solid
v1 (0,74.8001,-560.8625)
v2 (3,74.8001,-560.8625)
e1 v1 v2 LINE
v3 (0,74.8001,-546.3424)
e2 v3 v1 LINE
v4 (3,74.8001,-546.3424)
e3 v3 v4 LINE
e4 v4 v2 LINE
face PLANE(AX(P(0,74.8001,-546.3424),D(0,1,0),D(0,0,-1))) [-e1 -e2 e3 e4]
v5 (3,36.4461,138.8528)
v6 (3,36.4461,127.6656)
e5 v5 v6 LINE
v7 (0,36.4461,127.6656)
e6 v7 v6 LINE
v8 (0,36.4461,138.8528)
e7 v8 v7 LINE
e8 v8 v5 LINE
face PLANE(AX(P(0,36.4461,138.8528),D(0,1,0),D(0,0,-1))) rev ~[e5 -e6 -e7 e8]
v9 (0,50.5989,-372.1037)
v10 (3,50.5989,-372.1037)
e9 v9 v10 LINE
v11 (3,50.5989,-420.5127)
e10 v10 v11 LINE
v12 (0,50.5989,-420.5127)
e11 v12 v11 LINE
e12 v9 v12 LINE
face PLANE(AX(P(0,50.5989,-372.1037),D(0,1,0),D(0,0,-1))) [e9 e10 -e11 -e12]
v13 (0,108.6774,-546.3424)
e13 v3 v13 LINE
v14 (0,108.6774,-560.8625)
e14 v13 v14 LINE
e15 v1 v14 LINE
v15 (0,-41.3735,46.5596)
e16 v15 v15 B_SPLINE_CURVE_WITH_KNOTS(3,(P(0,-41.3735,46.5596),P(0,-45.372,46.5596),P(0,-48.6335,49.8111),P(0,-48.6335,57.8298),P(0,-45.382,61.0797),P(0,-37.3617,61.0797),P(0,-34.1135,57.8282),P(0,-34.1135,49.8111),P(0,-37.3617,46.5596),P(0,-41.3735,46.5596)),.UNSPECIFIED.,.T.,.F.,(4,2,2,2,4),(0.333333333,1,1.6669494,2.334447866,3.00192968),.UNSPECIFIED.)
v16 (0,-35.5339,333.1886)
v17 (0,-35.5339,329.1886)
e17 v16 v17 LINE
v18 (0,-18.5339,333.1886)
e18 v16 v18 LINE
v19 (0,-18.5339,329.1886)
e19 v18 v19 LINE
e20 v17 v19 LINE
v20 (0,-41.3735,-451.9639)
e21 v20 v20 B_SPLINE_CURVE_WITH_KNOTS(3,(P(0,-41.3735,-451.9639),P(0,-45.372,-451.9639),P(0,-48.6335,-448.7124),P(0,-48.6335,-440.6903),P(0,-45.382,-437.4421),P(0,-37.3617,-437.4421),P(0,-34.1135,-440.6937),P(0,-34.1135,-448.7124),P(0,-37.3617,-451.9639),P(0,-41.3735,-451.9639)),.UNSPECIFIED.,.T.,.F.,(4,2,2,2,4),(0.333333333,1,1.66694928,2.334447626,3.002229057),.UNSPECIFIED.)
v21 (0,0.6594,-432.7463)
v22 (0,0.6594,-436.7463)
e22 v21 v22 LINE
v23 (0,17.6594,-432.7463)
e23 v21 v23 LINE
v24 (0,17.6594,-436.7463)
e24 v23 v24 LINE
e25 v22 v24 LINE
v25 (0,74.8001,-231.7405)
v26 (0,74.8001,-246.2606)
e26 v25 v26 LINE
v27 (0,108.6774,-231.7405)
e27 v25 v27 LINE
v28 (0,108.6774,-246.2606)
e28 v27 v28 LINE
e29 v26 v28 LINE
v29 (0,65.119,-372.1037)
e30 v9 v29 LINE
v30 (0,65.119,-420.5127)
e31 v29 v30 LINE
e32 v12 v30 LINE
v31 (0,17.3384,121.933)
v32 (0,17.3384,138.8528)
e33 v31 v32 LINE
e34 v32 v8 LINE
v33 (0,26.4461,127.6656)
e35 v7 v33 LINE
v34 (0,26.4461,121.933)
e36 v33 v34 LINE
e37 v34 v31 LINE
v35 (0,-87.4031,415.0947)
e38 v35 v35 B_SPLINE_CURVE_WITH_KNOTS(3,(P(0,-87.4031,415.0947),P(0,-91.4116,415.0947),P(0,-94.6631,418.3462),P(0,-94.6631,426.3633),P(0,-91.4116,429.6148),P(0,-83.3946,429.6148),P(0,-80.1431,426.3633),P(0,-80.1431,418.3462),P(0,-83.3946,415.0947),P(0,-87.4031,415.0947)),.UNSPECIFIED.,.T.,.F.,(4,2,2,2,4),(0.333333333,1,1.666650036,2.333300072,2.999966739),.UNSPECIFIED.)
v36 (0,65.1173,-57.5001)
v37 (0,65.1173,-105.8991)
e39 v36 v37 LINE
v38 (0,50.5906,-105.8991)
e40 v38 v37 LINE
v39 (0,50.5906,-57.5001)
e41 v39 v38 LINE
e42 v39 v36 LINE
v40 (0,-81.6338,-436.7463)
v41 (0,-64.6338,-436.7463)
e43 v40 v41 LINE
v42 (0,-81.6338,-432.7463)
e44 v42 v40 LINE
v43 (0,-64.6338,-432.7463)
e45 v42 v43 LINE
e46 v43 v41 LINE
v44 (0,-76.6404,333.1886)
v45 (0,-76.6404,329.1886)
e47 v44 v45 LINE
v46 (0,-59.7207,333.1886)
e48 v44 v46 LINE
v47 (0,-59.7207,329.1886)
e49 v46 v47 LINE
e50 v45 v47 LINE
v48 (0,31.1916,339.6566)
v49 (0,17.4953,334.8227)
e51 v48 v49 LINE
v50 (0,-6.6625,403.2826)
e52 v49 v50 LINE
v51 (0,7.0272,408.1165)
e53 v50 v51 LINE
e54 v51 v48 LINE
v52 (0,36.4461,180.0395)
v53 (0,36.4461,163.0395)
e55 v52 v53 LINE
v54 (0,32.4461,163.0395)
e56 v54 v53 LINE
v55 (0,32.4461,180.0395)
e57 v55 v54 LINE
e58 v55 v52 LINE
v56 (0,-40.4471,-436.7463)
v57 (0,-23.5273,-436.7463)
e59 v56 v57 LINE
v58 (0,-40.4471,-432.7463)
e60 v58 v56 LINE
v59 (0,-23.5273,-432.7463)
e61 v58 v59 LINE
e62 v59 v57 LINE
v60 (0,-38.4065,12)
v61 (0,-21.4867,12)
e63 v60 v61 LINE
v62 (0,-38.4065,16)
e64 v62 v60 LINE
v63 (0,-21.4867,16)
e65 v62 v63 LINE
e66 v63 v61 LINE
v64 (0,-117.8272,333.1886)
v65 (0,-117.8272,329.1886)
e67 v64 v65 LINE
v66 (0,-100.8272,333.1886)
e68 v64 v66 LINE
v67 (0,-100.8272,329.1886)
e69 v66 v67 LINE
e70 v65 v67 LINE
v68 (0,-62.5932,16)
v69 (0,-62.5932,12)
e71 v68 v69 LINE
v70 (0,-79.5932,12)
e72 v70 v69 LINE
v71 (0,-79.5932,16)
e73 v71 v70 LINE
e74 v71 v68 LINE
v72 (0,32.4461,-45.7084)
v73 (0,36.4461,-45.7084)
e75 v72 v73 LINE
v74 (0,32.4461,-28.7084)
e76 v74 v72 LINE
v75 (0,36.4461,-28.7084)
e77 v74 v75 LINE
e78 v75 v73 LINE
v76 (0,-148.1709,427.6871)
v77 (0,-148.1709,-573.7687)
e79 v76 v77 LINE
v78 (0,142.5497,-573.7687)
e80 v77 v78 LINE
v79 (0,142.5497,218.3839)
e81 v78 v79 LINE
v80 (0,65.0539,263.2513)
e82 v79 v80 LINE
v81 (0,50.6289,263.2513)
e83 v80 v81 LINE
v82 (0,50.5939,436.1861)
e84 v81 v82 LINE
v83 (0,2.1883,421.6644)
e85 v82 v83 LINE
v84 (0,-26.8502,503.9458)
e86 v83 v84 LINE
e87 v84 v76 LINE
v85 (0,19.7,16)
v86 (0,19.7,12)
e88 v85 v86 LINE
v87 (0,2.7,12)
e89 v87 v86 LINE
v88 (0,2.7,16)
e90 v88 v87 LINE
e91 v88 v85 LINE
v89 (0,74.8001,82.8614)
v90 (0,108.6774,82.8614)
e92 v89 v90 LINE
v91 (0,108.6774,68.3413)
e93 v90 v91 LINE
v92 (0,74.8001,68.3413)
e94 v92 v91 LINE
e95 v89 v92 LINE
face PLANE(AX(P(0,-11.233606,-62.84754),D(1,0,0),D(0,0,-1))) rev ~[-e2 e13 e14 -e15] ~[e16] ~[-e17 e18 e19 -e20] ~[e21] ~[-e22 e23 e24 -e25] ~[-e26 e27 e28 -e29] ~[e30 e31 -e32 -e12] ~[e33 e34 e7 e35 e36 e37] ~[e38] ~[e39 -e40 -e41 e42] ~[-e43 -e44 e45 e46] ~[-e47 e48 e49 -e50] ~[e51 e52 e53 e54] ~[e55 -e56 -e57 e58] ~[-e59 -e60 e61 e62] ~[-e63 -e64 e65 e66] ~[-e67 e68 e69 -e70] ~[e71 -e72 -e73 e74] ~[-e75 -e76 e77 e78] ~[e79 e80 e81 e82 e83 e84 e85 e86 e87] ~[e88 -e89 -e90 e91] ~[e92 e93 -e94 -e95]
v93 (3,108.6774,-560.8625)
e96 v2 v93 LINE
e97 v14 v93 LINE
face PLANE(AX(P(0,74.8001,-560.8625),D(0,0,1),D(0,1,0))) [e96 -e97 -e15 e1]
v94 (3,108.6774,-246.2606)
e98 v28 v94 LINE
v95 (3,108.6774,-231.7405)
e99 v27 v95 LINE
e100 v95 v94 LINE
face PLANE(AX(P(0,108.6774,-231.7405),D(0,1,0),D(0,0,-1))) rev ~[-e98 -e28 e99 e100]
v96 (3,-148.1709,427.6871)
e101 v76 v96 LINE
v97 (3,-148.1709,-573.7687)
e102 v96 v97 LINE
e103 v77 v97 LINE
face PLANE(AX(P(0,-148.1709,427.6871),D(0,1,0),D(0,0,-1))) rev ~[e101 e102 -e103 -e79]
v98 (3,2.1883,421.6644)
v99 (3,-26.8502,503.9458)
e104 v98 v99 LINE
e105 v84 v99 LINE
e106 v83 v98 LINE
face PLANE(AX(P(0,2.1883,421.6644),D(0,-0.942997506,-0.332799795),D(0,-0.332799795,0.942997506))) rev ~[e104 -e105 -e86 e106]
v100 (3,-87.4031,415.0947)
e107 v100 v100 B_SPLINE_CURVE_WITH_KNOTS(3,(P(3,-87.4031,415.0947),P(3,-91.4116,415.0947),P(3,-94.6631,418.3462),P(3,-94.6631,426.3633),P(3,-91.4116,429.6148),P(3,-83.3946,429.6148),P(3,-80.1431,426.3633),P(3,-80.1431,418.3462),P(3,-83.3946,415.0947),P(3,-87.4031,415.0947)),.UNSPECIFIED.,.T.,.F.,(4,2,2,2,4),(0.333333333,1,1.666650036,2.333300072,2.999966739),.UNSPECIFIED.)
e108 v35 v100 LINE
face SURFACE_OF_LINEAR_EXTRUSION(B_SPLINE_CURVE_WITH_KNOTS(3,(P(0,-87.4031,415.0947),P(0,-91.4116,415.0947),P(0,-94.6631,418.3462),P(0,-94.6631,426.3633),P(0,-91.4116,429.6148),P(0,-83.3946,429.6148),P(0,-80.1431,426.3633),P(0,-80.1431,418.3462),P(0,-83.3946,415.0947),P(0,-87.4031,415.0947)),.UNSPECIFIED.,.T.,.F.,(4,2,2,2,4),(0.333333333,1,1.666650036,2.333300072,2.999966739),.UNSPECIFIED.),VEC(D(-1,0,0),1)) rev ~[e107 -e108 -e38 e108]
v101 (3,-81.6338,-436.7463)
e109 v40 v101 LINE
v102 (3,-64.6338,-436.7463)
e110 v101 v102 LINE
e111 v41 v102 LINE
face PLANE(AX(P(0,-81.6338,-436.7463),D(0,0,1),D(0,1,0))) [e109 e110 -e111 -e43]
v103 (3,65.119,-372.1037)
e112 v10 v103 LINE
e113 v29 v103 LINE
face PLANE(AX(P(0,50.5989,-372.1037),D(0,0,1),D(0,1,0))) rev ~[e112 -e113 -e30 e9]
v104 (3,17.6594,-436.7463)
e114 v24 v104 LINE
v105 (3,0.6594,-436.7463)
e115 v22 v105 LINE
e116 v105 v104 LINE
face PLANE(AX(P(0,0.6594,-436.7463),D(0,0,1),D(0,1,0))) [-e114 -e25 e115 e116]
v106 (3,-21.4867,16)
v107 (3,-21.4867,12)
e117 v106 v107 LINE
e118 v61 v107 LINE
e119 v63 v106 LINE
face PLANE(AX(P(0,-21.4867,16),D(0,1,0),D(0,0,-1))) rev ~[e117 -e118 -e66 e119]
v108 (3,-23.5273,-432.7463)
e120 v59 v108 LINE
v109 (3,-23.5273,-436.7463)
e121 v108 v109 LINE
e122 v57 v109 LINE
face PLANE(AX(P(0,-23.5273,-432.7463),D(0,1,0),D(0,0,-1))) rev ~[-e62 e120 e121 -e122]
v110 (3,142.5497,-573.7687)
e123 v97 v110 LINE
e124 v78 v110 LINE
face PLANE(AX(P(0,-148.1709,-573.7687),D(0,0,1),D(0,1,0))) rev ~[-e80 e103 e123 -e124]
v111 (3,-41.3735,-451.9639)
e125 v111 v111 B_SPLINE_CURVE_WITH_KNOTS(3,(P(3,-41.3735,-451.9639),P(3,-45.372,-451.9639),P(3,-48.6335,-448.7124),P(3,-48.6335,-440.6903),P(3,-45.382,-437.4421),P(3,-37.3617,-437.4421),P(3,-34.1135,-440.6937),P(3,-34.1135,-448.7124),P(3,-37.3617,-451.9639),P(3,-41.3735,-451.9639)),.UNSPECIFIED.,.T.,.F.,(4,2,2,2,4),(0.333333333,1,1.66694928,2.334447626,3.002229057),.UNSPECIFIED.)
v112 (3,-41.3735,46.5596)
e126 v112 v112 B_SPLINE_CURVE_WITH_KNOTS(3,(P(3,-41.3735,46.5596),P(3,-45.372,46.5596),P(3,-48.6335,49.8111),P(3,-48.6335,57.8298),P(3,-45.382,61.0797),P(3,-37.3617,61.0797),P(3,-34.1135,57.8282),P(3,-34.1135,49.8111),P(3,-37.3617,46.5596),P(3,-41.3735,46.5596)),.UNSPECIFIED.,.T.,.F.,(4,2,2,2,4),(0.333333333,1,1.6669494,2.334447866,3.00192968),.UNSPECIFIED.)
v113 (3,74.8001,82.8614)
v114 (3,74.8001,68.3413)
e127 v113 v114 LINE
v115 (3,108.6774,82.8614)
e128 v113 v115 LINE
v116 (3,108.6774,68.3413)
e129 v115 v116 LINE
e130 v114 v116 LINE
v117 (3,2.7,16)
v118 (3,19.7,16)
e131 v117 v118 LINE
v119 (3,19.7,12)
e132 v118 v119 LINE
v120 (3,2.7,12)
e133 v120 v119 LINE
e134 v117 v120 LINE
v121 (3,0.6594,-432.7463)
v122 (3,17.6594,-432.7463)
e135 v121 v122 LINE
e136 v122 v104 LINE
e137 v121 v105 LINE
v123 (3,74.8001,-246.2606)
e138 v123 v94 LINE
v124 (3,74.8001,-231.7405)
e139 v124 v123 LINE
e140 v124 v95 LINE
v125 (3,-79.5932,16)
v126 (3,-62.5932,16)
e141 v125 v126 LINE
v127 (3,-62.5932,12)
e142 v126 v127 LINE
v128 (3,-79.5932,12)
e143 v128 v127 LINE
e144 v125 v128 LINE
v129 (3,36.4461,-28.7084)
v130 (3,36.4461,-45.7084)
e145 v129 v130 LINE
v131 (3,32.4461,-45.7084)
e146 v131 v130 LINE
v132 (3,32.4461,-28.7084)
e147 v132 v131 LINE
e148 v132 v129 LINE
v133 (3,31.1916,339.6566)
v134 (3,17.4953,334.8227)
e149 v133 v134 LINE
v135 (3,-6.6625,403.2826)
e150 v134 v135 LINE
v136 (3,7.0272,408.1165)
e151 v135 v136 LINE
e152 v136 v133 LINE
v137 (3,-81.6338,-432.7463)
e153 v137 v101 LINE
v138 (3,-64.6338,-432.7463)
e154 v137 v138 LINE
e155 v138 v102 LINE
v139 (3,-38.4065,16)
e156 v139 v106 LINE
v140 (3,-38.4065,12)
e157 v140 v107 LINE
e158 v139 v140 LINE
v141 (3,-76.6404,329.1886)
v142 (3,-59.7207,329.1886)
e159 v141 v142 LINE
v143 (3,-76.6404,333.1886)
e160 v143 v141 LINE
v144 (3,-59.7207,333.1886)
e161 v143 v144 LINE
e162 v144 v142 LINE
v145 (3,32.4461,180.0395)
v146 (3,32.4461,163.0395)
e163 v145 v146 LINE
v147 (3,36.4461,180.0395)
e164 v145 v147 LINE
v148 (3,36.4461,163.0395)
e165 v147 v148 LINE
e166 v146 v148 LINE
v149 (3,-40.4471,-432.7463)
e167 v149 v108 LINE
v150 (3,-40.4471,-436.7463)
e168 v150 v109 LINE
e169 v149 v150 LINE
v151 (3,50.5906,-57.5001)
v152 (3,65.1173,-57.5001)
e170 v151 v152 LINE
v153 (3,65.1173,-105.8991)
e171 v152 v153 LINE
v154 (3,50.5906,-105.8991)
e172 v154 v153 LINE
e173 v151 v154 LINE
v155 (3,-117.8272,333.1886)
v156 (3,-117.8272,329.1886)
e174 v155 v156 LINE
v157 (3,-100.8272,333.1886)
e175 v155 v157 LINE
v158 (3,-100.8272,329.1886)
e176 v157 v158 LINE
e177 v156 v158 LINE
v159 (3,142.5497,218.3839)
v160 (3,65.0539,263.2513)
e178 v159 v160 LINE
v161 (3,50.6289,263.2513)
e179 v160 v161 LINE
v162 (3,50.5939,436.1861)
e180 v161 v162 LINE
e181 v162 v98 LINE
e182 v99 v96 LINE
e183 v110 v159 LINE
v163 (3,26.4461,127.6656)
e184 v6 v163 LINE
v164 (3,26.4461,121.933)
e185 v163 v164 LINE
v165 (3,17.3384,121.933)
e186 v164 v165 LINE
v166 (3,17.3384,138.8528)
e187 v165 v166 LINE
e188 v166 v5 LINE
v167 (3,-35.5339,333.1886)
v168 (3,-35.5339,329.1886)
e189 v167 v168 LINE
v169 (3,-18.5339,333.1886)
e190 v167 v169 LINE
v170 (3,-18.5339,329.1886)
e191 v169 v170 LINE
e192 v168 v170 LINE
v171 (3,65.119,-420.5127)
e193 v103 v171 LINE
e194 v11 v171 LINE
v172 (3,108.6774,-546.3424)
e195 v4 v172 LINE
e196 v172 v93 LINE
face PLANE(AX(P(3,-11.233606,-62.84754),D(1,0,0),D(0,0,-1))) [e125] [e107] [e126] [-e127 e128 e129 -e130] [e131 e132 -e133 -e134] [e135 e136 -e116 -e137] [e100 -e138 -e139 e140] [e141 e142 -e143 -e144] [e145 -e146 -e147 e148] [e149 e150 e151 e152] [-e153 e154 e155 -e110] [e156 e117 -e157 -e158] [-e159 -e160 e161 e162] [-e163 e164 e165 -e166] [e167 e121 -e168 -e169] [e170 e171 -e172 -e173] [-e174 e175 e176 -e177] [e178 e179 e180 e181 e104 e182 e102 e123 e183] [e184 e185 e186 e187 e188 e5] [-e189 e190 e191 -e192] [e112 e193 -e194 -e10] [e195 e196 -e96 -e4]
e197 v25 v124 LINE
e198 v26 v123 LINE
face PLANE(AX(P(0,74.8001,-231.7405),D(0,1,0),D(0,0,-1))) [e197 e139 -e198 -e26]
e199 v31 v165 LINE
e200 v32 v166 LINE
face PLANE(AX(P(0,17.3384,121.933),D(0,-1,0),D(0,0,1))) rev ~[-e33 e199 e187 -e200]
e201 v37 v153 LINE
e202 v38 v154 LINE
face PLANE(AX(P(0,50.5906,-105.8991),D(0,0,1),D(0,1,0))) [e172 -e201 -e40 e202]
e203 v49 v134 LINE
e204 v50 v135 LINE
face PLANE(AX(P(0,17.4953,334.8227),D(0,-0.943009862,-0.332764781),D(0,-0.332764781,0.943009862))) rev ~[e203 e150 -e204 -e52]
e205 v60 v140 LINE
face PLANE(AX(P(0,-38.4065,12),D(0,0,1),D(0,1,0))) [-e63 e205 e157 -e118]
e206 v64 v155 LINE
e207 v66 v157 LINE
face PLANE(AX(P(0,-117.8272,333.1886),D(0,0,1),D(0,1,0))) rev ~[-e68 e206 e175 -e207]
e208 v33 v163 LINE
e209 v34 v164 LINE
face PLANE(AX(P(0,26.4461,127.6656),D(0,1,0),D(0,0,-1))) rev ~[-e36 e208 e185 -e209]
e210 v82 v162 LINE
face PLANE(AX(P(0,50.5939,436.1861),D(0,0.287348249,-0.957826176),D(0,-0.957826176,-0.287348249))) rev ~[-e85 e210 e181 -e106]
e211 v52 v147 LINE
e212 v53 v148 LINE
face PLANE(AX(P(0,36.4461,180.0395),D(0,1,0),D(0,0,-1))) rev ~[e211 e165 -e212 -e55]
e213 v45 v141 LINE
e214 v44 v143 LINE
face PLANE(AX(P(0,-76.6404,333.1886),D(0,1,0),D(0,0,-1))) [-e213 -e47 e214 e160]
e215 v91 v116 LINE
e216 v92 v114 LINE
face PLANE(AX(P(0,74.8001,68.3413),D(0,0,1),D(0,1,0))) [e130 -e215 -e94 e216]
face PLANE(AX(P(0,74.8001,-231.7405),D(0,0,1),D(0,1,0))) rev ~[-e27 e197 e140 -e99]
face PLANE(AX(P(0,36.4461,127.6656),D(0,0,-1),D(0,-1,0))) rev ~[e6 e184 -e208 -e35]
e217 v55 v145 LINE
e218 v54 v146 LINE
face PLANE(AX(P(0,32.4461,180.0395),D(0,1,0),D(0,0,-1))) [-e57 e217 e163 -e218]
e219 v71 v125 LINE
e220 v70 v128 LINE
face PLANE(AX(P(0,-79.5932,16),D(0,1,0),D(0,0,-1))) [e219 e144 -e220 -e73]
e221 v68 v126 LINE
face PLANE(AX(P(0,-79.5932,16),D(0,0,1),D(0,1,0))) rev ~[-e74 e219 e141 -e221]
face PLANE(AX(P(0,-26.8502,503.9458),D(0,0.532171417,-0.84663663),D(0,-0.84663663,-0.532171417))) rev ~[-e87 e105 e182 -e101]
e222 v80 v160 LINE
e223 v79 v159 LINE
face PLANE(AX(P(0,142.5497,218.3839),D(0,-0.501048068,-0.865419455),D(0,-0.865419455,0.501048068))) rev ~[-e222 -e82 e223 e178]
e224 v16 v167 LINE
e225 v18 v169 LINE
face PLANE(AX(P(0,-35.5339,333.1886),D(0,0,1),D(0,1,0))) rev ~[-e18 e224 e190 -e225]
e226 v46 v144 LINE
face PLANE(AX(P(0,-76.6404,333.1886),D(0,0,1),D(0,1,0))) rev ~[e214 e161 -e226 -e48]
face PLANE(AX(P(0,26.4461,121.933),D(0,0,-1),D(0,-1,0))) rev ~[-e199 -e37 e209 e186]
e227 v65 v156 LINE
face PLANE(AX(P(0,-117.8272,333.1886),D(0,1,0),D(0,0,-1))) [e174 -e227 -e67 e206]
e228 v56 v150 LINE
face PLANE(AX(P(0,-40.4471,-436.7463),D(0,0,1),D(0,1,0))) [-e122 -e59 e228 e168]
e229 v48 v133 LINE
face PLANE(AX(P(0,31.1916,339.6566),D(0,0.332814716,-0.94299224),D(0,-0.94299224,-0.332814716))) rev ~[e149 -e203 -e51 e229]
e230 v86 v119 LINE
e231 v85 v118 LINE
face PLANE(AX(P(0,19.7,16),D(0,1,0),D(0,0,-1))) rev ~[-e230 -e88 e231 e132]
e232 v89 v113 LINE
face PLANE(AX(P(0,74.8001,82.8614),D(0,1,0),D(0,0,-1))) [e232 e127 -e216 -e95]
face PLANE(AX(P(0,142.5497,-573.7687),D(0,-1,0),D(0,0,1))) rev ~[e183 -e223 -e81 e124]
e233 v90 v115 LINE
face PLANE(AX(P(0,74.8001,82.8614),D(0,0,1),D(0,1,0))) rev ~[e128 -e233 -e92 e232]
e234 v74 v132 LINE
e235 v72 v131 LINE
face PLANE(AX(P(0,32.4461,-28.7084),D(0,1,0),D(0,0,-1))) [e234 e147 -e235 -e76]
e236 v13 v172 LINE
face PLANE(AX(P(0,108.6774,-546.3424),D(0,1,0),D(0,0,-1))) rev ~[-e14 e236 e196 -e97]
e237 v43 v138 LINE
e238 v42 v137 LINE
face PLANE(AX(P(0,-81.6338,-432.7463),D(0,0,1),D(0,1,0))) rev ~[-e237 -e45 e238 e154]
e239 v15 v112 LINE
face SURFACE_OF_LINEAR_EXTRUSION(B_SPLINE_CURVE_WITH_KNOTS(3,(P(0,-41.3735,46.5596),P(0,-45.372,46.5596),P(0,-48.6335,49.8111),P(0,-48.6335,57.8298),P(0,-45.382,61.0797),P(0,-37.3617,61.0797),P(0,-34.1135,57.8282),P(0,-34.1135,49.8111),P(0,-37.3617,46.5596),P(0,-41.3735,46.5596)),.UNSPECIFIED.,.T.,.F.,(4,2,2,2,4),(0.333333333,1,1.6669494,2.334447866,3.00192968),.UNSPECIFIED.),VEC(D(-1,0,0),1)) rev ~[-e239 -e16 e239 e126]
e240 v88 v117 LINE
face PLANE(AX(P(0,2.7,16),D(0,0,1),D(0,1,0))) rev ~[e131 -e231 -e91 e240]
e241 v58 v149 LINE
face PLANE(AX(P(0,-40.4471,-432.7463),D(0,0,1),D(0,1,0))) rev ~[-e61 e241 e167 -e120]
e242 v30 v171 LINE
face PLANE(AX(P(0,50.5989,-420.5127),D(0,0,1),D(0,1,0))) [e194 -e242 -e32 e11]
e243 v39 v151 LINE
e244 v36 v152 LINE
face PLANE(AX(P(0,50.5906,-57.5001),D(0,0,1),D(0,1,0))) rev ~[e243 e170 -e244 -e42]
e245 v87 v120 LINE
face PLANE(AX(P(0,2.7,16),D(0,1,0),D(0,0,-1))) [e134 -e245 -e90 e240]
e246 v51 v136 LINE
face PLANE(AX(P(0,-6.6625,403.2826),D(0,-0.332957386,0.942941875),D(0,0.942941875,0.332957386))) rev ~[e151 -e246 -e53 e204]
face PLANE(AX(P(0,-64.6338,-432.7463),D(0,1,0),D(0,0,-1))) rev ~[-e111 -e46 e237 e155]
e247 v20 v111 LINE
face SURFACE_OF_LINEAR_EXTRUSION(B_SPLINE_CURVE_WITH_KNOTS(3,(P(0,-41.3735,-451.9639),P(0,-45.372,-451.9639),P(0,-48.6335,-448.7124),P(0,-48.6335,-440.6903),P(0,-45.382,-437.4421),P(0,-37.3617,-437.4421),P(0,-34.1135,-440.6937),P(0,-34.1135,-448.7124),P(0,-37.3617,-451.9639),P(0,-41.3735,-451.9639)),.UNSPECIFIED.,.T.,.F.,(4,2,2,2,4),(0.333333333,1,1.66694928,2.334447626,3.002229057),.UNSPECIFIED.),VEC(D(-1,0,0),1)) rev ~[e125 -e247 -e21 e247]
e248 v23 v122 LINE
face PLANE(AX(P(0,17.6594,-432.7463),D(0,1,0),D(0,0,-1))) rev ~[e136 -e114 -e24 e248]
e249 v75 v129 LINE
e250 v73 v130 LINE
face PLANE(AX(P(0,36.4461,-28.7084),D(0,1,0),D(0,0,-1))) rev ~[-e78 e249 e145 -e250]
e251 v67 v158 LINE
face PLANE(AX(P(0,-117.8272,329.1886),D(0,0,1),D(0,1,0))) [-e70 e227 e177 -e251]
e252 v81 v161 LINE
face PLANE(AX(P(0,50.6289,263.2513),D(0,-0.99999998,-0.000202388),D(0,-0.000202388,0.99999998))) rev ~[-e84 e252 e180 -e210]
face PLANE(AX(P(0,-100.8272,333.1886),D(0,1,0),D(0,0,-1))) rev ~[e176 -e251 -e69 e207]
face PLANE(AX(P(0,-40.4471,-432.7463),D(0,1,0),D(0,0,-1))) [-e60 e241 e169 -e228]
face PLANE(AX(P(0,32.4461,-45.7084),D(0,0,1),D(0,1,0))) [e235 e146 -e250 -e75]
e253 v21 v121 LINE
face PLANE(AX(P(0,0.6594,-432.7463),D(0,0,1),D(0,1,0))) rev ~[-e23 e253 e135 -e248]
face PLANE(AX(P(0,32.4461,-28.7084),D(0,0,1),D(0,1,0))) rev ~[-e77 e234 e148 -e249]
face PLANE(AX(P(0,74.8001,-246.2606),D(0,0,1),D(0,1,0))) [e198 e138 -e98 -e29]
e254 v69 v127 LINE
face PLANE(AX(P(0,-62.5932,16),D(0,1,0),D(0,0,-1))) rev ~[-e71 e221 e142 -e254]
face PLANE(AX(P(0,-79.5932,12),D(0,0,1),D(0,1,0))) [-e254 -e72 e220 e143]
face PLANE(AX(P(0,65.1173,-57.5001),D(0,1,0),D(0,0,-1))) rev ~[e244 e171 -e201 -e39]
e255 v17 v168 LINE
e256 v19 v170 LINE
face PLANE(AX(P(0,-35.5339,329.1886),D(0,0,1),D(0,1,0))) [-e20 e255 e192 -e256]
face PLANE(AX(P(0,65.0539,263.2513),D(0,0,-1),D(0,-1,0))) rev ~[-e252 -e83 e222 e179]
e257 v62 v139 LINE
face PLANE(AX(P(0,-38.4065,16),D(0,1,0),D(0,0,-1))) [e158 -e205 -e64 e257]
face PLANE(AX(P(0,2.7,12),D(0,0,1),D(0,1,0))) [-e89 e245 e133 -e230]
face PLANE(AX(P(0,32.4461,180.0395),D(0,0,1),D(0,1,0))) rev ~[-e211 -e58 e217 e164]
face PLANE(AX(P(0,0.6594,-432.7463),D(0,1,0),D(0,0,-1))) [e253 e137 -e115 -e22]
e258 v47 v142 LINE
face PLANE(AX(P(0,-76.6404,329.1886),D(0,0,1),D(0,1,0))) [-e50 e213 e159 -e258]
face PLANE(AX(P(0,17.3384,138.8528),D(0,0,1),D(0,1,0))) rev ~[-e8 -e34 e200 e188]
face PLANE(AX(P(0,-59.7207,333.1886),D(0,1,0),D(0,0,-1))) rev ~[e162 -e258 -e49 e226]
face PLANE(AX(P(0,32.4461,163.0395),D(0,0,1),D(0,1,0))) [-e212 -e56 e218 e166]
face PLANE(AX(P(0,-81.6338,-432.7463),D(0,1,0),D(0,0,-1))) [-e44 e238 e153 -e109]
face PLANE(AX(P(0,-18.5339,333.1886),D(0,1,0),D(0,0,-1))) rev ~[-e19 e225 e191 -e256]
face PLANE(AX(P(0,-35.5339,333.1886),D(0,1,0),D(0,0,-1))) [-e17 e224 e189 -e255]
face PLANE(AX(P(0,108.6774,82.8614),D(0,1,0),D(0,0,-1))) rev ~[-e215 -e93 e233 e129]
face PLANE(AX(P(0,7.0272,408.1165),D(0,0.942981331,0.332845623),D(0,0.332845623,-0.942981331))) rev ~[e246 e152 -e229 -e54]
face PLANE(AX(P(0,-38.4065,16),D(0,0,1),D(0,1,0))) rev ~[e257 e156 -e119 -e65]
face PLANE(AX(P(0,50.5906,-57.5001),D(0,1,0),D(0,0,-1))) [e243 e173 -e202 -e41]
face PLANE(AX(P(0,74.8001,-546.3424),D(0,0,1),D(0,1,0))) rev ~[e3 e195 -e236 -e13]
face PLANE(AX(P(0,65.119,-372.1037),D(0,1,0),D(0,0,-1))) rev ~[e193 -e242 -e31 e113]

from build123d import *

# Parameters (mm, degrees)
SKETCH1_W           = 4
SKETCH1_H           = 17
SKETCH1_W_2         = 17
SKETCH1_H_2         = 4
SKETCH1_W_3         = 14.5201
SKETCH1_H_3         = 33.8773
SKETCH1_W_4         = 48.399
SKETCH1_H_4         = 14.5267
SKETCH1_W_5         = 48.409
SKETCH1_H_5         = 14.5201
SKETCH1_H_6         = 16.9197
SKETCH1_H_7         = 16.9198
BOSS_EXTRUDE2_DEPTH = 3


with BuildPart() as part:
    # Sketch1 → Boss-Extrude2 (new body)
    with BuildSketch(Plane(origin=(0, 0, 0), x_dir=(0, 0, -1), z_dir=(1, 0, 0))):
        Polygon((-503.9458, -26.8502), (-427.6871, -148.1709), (573.7687, -148.1709), (573.7687, 142.5497), (-218.3839, 142.5497), (-263.2513, 65.0539), (-263.2513, 50.6289), (-436.1861, 50.5939), (-421.6644, 2.1883), align=None)
        with Locations((434.7463, 9.1594)):
            Rectangle(SKETCH1_W, SKETCH1_H, mode=Mode.SUBTRACT)
        with Locations((37.2084, 34.4461)):
            Rectangle(SKETCH1_W_2, SKETCH1_H_2, mode=Mode.SUBTRACT)
        Polygon((-408.1165, 7.0272), (-339.6566, 31.1916), (-334.8227, 17.4953), (-403.2826, -6.6625), align=None, mode=Mode.SUBTRACT)
        with Locations((-75.60135, 91.73875)):
            Rectangle(SKETCH1_W_3, SKETCH1_H_3, mode=Mode.SUBTRACT)
        with Locations((81.6996, 57.85395)):
            Rectangle(SKETCH1_W_4, SKETCH1_H_4, mode=Mode.SUBTRACT)
        with Locations((239.00055, 91.73875)):
            Rectangle(SKETCH1_W_3, SKETCH1_H_3, mode=Mode.SUBTRACT)
        with Locations((396.3082, 57.85895)):
            Rectangle(SKETCH1_W_5, SKETCH1_H_5, mode=Mode.SUBTRACT)
        with Locations((553.60245, 91.73875)):
            Rectangle(SKETCH1_W_3, SKETCH1_H_3, mode=Mode.SUBTRACT)
        with Locations((-331.1886, -27.0339)):
            Rectangle(SKETCH1_W, SKETCH1_H, mode=Mode.SUBTRACT)
        with Locations((-331.1886, -68.18055)):
            Rectangle(SKETCH1_W, SKETCH1_H_6, mode=Mode.SUBTRACT)
        with Locations((-331.1886, -109.3272)):
            Rectangle(SKETCH1_W, SKETCH1_H, mode=Mode.SUBTRACT)
        with Locations((-171.5395, 34.4461)):
            Rectangle(SKETCH1_W_2, SKETCH1_H_2, mode=Mode.SUBTRACT)
        Polygon((-127.6656, 36.4461), (-127.6656, 26.4461), (-121.933, 26.4461), (-121.933, 17.3384), (-138.8528, 17.3384), (-138.8528, 36.4461), align=None, mode=Mode.SUBTRACT)
        with Locations((-14, 11.2)):
            Rectangle(SKETCH1_W, SKETCH1_H, mode=Mode.SUBTRACT)
        with Locations((-14, -29.9466)):
            Rectangle(SKETCH1_W, SKETCH1_H_7, mode=Mode.SUBTRACT)
        with Locations((-14, -71.0932)):
            Rectangle(SKETCH1_W, SKETCH1_H, mode=Mode.SUBTRACT)
        with Locations((434.7463, -31.9872)):
            Rectangle(SKETCH1_W, SKETCH1_H_7, mode=Mode.SUBTRACT)
        with Locations((434.7463, -73.1338)):
            Rectangle(SKETCH1_W, SKETCH1_H, mode=Mode.SUBTRACT)
        with BuildLine():
            add(Edge.make_bspline(
                [(444.7022, -48.6335), (440.6903, -48.6335), (437.4421, -45.382), (437.4421, -41.3735)],
                knots=[0, 0, 0, 0, 0.333333333, 0.333333333, 0.333333333, 0.333333333], degree=3))
            add(Edge.make_bspline(
                [(437.4421, -41.3735), (437.4421, -37.3617), (440.6937, -34.1135), (444.7022, -34.1135)],
                knots=[0.333333333, 0.333333333, 0.333333333, 0.333333333, 1, 1, 1, 1], degree=3))
            add(Edge.make_bspline(
                [(444.7022, -34.1135), (448.7124, -34.1135), (451.9639, -37.3617), (451.9639, -41.3735)],
                knots=[0, 0, 0, 0, 0.333333333, 0.333333333, 0.333333333, 0.333333333], degree=3))
            add(Edge.make_bspline(
                [(451.9639, -41.3735), (451.9639, -45.372), (448.7124, -48.6335), (444.7022, -48.6335)],
                knots=[0.333333333, 0.333333333, 0.333333333, 0.333333333, 1, 1, 1, 1], degree=3))
        make_face(mode=Mode.SUBTRACT)
        with BuildLine():
            add(Edge.make_bspline(
                [(-53.8196, -48.6335), (-57.8298, -48.6335), (-61.0797, -45.382), (-61.0797, -41.3735)],
                knots=[0, 0, 0, 0, 0.333333333, 0.333333333, 0.333333333, 0.333333333], degree=3))
            add(Edge.make_bspline(
                [(-61.0797, -41.3735), (-61.0797, -37.3617), (-57.8282, -34.1135), (-53.8196, -34.1135)],
                knots=[0.333333333, 0.333333333, 0.333333333, 0.333333333, 1, 1, 1, 1], degree=3))
            add(Edge.make_bspline(
                [(-53.8196, -34.1135), (-49.8111, -34.1135), (-46.5596, -37.3617), (-46.5596, -41.3735)],
                knots=[0, 0, 0, 0, 0.333333333, 0.333333333, 0.333333333, 0.333333333], degree=3))
            add(Edge.make_bspline(
                [(-46.5596, -41.3735), (-46.5596, -45.372), (-49.8111, -48.6335), (-53.8196, -48.6335)],
                knots=[0.333333333, 0.333333333, 0.333333333, 0.333333333, 1, 1, 1, 1], degree=3))
        make_face(mode=Mode.SUBTRACT)
        with BuildLine():
            add(Edge.make_bspline(
                [(-422.3548, -94.6631), (-426.3633, -94.6631), (-429.6148, -91.4116), (-429.6148, -87.4031)],
                knots=[0, 0, 0, 0, 0.333333333, 0.333333333, 0.333333333, 0.333333333], degree=3))
            add(Edge.make_bspline(
                [(-429.6148, -87.4031), (-429.6148, -83.3946), (-426.3633, -80.1431), (-422.3548, -80.1431)],
                knots=[0.333333333, 0.333333333, 0.333333333, 0.333333333, 1, 1, 1, 1], degree=3))
            add(Edge.make_bspline(
                [(-422.3548, -80.1431), (-418.3462, -80.1431), (-415.0947, -83.3946), (-415.0947, -87.4031)],
                knots=[0, 0, 0, 0, 0.333333333, 0.333333333, 0.333333333, 0.333333333], degree=3))
            add(Edge.make_bspline(
                [(-415.0947, -87.4031), (-415.0947, -91.4116), (-418.3462, -94.6631), (-422.3548, -94.6631)],
                knots=[0.333333333, 0.333333333, 0.333333333, 0.333333333, 1, 1, 1, 1], degree=3))
        make_face(mode=Mode.SUBTRACT)
    extrude(amount=BOSS_EXTRUDE2_DEPTH)


solid = part.part
